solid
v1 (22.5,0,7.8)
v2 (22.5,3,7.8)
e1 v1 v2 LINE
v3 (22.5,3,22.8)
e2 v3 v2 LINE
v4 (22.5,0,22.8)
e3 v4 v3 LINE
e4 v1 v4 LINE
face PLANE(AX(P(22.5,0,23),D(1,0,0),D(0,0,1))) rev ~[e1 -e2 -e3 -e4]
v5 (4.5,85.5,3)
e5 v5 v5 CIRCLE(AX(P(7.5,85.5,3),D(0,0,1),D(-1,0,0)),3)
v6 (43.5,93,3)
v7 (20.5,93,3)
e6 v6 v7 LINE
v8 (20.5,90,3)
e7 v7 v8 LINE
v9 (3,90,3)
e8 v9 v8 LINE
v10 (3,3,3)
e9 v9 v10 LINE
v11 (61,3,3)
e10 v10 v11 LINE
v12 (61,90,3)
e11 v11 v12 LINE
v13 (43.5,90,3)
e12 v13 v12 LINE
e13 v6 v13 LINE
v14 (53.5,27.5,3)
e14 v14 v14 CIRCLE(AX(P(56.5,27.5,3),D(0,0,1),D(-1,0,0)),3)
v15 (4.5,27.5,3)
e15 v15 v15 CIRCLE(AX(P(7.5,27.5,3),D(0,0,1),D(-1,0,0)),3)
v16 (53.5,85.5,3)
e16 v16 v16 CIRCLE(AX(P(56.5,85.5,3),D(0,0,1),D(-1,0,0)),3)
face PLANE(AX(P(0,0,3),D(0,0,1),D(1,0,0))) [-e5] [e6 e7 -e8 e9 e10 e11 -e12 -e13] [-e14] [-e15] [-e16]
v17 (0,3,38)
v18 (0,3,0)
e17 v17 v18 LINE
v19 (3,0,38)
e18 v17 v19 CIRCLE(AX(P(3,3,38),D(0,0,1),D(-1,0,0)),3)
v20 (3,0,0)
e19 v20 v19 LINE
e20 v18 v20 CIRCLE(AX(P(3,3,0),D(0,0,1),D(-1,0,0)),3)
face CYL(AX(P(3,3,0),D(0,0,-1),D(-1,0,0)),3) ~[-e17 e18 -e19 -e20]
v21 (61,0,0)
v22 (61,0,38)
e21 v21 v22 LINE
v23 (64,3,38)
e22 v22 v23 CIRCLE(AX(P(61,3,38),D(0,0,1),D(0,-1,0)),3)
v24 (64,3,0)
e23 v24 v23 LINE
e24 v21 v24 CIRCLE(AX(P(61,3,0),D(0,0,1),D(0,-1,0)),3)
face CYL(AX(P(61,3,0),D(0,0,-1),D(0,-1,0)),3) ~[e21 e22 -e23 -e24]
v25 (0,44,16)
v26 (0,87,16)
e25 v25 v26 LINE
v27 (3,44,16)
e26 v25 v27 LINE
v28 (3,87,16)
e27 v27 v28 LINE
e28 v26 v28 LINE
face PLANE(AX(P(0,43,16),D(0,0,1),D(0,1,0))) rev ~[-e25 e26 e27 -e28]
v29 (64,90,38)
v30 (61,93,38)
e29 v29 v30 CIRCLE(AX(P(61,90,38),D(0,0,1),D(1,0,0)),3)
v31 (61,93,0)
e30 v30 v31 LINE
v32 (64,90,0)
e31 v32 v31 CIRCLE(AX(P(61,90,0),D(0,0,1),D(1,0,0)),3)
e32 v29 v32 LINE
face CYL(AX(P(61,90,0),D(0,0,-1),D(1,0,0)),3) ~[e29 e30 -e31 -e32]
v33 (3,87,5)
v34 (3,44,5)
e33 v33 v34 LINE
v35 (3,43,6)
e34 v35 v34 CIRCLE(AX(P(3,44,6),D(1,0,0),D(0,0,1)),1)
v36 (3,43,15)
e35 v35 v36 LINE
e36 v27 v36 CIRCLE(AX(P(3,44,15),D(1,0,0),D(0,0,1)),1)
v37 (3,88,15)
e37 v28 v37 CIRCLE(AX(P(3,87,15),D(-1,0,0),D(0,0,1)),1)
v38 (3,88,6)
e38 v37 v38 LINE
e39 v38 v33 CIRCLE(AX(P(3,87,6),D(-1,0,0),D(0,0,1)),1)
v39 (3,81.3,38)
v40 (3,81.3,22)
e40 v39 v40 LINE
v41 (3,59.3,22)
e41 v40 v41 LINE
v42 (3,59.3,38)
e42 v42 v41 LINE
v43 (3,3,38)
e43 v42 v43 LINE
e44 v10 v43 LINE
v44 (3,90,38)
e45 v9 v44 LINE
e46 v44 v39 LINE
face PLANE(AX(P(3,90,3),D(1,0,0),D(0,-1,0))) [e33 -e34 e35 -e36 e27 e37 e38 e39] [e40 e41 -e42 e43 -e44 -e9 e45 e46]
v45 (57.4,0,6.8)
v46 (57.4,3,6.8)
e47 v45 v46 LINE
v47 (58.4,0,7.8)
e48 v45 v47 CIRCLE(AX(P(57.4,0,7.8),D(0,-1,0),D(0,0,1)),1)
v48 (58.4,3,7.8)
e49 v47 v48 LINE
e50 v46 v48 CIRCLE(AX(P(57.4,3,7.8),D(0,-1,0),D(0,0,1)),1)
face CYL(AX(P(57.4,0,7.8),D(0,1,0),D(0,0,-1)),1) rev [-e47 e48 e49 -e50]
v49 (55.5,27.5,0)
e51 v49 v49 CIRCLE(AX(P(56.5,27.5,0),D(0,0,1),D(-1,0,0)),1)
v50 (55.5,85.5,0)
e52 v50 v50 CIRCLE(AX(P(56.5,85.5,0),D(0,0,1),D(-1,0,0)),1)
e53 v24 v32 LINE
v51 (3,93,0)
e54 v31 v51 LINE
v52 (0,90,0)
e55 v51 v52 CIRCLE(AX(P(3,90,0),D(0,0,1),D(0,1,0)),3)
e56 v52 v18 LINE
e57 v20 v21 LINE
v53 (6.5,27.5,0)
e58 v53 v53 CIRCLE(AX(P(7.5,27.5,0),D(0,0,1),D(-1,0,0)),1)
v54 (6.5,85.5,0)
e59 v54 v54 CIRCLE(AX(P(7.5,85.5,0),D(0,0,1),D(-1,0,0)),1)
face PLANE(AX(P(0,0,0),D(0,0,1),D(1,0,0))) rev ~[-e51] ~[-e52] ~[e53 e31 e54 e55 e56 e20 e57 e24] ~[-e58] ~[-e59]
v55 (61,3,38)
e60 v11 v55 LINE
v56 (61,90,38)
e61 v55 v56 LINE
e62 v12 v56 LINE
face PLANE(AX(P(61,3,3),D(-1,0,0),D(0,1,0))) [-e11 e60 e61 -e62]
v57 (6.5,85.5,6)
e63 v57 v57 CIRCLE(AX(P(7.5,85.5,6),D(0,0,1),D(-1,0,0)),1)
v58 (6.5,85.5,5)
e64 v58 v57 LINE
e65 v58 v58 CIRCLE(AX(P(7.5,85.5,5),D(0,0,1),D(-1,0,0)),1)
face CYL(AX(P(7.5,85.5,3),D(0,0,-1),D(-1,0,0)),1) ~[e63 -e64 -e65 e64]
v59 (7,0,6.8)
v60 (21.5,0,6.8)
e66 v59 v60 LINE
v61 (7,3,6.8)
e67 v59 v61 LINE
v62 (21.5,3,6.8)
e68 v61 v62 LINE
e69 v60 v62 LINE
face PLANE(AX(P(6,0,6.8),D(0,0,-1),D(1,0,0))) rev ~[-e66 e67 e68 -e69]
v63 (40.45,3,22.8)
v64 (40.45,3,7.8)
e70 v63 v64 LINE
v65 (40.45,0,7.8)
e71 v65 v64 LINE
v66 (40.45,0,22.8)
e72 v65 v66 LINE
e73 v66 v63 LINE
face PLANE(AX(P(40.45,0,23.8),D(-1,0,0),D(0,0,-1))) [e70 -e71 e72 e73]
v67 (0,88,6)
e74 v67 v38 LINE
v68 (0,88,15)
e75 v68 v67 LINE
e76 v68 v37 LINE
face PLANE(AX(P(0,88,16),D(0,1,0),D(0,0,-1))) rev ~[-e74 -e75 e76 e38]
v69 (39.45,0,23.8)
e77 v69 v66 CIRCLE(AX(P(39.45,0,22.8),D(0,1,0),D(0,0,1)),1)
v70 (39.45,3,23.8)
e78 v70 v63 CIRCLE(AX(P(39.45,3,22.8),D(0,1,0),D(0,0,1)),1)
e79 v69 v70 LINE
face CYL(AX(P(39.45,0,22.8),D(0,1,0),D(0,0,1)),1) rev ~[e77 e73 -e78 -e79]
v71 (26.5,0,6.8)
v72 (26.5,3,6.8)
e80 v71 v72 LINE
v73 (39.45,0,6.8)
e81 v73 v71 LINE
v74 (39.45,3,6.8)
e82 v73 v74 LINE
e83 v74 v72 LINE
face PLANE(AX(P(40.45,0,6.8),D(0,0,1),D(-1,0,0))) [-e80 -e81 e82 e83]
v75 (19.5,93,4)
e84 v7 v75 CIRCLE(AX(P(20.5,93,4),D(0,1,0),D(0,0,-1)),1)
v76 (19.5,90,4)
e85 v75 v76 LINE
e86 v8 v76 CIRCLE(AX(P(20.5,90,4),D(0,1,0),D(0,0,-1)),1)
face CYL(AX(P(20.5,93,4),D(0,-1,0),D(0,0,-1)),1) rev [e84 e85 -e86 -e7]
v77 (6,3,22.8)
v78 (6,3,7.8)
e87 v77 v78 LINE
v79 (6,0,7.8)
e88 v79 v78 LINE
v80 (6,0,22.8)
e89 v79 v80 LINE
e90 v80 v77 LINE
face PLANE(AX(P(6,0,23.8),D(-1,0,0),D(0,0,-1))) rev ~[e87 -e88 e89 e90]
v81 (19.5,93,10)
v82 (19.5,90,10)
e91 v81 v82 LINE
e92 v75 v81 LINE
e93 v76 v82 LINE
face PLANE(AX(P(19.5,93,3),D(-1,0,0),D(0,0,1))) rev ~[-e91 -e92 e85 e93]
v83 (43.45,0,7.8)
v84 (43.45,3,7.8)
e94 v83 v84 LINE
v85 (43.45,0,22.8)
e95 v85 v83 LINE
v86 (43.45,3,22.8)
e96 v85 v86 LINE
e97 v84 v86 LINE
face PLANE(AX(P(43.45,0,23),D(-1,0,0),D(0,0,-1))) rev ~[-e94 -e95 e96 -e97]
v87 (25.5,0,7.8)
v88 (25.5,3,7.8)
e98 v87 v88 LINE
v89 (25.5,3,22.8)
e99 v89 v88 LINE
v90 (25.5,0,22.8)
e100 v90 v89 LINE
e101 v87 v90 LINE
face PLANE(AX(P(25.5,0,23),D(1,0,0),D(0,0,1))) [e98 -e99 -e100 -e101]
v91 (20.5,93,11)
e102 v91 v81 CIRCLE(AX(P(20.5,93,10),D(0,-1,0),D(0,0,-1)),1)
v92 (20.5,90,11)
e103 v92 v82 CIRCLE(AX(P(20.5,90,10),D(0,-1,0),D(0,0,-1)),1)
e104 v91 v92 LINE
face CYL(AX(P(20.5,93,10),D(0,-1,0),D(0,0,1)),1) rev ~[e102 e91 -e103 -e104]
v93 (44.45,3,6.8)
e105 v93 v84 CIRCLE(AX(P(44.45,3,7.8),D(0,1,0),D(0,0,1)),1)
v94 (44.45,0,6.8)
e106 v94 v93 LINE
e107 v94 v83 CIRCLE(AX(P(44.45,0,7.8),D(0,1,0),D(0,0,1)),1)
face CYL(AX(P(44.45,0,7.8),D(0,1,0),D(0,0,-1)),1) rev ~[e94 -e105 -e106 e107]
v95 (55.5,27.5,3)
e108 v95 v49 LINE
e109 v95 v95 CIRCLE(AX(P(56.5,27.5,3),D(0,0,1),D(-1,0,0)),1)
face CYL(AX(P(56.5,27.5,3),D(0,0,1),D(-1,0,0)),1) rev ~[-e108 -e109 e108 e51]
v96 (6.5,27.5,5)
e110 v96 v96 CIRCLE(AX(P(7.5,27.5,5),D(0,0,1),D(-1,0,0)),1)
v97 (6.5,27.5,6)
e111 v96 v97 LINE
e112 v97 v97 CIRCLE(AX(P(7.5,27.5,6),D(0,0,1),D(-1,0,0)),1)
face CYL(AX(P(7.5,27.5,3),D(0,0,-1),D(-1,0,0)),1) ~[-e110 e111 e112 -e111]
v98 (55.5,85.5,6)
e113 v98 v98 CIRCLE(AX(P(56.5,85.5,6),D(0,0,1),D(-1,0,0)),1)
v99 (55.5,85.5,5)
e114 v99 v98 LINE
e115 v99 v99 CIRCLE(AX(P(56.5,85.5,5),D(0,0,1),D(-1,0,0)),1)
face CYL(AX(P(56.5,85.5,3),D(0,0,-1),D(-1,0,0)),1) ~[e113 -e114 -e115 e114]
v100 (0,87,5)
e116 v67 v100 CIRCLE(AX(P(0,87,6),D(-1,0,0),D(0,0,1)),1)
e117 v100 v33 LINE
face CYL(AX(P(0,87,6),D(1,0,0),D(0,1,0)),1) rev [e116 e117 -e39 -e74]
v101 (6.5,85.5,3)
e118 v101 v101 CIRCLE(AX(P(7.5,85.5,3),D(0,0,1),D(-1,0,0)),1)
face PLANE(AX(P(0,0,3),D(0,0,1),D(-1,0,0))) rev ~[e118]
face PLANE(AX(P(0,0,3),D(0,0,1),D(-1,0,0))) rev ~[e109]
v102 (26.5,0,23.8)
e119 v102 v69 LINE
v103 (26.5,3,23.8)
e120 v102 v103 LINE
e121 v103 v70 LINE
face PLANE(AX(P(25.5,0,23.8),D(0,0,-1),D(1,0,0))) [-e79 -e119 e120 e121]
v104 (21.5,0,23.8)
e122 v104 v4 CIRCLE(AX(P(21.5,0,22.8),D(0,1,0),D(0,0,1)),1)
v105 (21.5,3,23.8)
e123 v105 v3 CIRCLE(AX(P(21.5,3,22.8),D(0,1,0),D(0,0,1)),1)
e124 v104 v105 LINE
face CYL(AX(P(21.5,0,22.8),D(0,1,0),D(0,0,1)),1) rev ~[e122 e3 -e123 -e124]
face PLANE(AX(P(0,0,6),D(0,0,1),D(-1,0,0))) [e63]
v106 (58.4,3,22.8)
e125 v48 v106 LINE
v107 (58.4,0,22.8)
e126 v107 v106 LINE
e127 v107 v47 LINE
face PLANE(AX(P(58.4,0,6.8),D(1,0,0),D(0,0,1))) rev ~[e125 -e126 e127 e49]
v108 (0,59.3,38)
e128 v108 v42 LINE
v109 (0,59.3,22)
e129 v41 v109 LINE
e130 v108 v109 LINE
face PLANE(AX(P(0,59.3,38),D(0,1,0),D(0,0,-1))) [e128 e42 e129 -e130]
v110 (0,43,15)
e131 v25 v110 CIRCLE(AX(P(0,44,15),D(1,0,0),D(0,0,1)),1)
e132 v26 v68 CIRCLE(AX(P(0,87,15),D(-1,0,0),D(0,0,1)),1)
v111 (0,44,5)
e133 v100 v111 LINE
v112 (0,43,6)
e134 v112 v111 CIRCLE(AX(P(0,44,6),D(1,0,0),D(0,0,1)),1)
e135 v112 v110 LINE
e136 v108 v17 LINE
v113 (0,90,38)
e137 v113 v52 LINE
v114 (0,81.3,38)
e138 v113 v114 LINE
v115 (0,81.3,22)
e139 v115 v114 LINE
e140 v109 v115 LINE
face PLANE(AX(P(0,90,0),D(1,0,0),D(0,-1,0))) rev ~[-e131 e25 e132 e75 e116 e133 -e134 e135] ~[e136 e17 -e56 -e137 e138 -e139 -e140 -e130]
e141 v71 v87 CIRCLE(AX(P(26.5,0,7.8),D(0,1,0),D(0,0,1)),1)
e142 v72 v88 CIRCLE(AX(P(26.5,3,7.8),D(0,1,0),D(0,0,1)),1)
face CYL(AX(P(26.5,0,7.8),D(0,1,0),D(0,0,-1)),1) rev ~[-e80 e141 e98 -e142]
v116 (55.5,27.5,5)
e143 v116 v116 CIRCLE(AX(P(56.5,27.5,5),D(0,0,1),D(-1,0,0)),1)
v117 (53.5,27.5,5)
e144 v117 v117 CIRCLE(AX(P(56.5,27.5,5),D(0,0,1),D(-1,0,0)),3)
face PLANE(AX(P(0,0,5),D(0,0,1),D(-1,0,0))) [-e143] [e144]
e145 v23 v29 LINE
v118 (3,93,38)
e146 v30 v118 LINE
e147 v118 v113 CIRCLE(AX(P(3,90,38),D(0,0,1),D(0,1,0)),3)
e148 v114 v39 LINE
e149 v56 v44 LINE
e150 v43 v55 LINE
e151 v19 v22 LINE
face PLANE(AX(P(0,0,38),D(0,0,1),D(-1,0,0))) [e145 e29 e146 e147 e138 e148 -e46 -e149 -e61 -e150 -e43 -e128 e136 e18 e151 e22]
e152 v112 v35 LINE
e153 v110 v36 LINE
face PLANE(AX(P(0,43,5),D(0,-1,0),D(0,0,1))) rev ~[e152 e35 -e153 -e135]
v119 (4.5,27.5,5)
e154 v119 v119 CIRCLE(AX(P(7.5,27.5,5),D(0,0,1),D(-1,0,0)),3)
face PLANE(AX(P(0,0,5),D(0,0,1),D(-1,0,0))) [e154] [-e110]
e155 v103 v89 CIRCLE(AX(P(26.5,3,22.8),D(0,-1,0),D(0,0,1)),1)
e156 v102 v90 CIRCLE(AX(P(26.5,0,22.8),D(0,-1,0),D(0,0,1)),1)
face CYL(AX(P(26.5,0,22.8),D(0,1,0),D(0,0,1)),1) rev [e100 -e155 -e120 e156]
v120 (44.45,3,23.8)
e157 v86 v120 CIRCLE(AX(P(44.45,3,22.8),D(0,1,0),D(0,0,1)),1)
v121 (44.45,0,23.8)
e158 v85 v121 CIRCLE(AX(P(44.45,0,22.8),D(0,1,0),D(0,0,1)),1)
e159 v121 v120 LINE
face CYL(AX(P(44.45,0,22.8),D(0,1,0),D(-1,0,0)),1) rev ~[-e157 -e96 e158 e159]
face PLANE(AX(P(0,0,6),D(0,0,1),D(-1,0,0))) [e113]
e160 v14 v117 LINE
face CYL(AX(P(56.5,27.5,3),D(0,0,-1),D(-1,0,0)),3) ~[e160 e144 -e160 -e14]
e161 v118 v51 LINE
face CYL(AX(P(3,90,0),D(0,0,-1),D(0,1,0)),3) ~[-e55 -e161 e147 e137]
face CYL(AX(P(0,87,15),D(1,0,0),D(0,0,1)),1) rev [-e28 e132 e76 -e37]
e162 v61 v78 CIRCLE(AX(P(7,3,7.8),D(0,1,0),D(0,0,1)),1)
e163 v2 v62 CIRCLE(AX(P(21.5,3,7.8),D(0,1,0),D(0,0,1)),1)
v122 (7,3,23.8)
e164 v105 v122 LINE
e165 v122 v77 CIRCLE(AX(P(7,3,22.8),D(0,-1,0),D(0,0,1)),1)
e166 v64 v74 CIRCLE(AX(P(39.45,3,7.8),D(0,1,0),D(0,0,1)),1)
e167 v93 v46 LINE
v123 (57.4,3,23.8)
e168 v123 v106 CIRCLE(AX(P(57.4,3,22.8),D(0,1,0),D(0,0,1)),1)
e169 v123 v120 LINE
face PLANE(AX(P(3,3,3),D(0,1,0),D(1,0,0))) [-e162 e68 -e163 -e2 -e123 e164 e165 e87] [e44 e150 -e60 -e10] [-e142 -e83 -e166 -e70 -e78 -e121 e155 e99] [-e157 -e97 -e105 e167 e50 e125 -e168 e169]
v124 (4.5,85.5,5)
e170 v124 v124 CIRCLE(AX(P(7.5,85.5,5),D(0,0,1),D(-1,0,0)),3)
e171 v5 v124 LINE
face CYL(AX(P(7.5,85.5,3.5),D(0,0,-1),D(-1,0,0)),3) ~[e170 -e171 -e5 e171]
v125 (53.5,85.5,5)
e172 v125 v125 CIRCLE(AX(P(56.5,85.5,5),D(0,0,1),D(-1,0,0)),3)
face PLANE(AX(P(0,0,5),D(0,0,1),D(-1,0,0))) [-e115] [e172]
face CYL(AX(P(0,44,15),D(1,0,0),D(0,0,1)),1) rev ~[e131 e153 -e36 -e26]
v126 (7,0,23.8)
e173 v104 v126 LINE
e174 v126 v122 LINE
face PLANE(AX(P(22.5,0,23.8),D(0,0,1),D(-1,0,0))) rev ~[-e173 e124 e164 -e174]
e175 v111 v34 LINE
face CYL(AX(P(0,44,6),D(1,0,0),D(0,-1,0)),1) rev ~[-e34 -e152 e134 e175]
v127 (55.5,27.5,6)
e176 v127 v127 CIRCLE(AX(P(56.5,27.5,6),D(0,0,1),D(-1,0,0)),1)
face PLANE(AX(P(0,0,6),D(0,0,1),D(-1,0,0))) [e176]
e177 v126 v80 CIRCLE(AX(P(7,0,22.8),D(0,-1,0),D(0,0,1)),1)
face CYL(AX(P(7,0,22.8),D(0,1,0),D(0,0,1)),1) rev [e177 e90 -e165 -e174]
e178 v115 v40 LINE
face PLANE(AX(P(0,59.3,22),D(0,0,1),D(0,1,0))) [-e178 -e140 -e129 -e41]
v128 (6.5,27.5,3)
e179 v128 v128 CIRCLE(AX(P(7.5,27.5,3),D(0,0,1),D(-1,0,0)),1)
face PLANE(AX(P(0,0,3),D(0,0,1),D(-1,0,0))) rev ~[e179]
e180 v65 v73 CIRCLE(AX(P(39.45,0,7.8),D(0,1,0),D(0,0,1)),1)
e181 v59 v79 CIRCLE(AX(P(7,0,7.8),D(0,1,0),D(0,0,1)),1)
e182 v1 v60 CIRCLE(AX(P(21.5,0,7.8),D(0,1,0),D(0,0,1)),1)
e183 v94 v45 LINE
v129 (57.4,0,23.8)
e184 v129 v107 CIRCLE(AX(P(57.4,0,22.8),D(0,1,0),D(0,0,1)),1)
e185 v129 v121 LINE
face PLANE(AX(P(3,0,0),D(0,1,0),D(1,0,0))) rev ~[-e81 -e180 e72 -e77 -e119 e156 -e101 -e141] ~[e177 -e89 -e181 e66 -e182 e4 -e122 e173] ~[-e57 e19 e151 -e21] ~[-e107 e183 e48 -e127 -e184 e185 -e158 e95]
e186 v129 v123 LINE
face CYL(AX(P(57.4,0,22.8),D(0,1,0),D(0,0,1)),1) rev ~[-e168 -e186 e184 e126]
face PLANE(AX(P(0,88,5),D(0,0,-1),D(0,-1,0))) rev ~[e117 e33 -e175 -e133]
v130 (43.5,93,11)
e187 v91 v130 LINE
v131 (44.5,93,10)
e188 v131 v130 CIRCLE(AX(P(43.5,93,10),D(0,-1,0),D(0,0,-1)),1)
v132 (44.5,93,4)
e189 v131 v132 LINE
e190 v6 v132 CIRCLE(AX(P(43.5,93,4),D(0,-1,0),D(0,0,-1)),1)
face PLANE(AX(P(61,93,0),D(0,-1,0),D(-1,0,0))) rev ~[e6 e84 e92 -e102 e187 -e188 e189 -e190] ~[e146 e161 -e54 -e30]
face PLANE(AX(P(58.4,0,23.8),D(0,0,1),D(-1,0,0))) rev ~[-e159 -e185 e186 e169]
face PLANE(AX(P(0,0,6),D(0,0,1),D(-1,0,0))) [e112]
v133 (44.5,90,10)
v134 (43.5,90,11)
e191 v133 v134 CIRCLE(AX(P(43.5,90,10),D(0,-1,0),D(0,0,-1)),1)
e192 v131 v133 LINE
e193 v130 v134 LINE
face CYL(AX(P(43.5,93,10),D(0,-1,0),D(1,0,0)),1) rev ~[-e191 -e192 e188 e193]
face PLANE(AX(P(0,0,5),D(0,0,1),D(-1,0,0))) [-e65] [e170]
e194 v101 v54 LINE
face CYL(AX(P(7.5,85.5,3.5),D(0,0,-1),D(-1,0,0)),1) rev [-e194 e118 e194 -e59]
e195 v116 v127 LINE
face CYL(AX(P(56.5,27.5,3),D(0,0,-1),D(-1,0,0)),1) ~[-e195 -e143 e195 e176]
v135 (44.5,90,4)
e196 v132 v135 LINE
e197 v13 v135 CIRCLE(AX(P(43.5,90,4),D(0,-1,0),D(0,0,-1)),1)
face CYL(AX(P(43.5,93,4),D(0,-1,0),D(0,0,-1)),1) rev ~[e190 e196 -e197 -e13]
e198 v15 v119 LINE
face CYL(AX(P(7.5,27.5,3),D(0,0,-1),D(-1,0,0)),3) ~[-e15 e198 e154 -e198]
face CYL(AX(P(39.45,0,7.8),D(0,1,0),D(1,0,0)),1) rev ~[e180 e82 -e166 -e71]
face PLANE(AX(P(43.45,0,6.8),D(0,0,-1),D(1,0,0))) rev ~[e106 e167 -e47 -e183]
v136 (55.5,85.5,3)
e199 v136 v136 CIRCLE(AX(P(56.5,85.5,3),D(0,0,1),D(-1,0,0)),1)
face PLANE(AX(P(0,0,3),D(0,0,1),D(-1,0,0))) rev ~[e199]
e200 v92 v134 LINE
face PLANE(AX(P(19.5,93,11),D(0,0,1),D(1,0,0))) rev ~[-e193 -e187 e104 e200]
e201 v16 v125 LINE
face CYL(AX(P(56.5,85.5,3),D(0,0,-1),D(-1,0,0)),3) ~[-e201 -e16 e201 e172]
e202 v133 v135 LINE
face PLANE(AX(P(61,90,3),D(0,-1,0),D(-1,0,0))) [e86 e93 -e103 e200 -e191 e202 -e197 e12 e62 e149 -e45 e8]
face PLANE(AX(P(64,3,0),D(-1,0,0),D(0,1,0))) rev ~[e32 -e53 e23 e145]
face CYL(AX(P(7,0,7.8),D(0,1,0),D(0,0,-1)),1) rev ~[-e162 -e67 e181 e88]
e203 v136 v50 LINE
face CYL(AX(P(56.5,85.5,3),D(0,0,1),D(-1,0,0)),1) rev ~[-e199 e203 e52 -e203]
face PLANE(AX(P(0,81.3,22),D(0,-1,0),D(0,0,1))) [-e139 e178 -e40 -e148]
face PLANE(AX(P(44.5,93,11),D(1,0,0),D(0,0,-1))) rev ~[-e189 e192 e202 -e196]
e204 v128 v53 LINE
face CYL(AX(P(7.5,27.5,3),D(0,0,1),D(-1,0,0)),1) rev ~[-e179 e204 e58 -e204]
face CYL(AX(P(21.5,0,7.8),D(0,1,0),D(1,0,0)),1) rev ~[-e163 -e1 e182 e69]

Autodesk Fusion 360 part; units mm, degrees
sketch "Sketch1" plane through (0, 0, 0) normal (0, 0, 1) x (1, 0, 0)
  line L0 (3, 0) -> (61, 0)
  line L1 (64, 3) -> (64, 90)
  line L2 (61, 93) -> (3, 93)
  line L3 (0, 90) -> (0, 3)
  arc A0 (3, 93) -> (0, 90) centre (3, 90) ccw
  arc A1 (64, 90) -> (61, 93) centre (61, 90) ccw
  arc A2 (61, 0) -> (64, 3) centre (61, 3) ccw
  arc A3 (0, 3) -> (3, 0) centre (3, 3) ccw
  point P0 (64, 0)
  point P1 (0, 93)
  dimension "d1" = 64
  dimension "d2" = 93
  dimension "d3" = 3
  dimension "d4" = 3
extrude "Extrude1" add sketch "Sketch1" along normal blind 3
sketch "Sketch4" plane through (0, 0, 3) normal (0, 0, 1) x (-1, 0, 0)
  arc A0 (0, -3) -> (-3, 0) centre (-3, -3) ccw
  line L0 (-3, 0) -> (-61, 0)
  arc A1 (-61, 0) -> (-64, -3) centre (-61, -3) ccw
  line L1 (-64, -3) -> (-64, -90)
  arc A2 (-64, -90) -> (-61, -93) centre (-61, -90) ccw
  line L2 (-61, -93) -> (-3, -93)
  arc A3 (-3, -93) -> (0, -90) centre (-3, -90) ccw
  line L3 (0, -90) -> (0, -3)
  line L4 (-3, -3) -> (-61, -3)
  line L5 (-61, -3) -> (-61, -90)
  line L6 (-61, -90) -> (-3, -90)
  line L7 (-3, -90) -> (-3, -3)
  dimension "d11" = 58
  dimension "d12" = 87
  dimension "d13" = 3
  dimension "d14" = 3
extrude "Extrude2" add sketch "Sketch4" along normal blind 35
sketch "Sketch5" plane through (0, 0, 0) normal (0, -1, 0) x (1, 0, 0)
  line L0 (3, 0) -> (61, 0)
  line L1 (61, 0) -> (61, 23)
  line L2 (3, 23) -> (61, 23)
  line L3 (6, 6.8) -> (22.5, 6.8)
  line L4 (22.5, 6.8) -> (22.5, 23.8)
  line L5 (22.5, 23.8) -> (6, 23.8)
  line L6 (6, 23.8) -> (6, 6.8)
  line L7 (3, 0) -> (3, 23)
  line L8 (25.5, 23.8) -> (40.45, 23.8)
  line L9 (40.45, 23.8) -> (40.45, 6.8)
  line L10 (40.45, 6.8) -> (25.5, 6.8)
  line L11 (25.5, 6.8) -> (25.5, 23.8)
  line L12 (43.45, 6.8) -> (58.4, 6.8)
  line L13 (58.4, 6.8) -> (58.4, 23.8)
  line L14 (58.4, 23.8) -> (43.45, 23.8)
  line L15 (43.45, 23.8) -> (43.45, 6.8)
  line L16 (3, 0) -> (61, 0)
  line L17 (61, 0) -> (61, 38)
  line L18 (61, 38) -> (3, 38)
  line L19 (3, 38) -> (3, 0)
  dimension "d21" = 16.5
  dimension "d22" = 17
  dimension "d23" = 3
  dimension "d26" = 14.95
  dimension "d27" = 17
  dimension "d29" = 14.95
  dimension "d30" = 17
  dimension "d31" = 3
  dimension "d34" = 3
  dimension "d45" = 6.8
extrude "Extrude4" cut sketch "Sketch5" against normal blind 3 contours L2 L4 L5 L6 | L2 L3 L4 L6 | L2 L12 L13 L15 | L2 L13 L14 L15 | L2 L8 L9 L11 | L2 L9 L10 L11
sketch "Sketch6" plane through (0, 0, 3) normal (0, 0, 1) x (-1, 0, 0)
  line L0 (-3, -3) -> (-61, -3)
  line L1 (-61, -3) -> (-61, -90)
  line L2 (-61, -90) -> (-3, -90)
  line L3 (-3, -90) -> (-3, -3)
  circle A0 centre (-7.5, -85.5) radius 1
  circle A1 centre (-7.5, -85.5) radius 3
  circle A2 centre (-56.5, -85.5) radius 1
  circle A3 centre (-56.5, -85.5) radius 3
  circle A4 centre (-56.5, -27.5) radius 1
  circle A5 centre (-56.5, -27.5) radius 3
  circle A6 centre (-7.5, -27.5) radius 1
  circle A7 centre (-7.5, -27.5) radius 3
  dimension "d35" = 2
  dimension "d36" = 4.5
  dimension "d37" = 4.5
  dimension "d38" = 6
  dimension "d59" = 2
  dimension "d60" = 4.5
  dimension "d61" = 4.5
  dimension "d62" = 6
  dimension "d63" = 2
  dimension "d64" = 4.5
  dimension "d65" = 58
  dimension "d66" = 6
  dimension "d67" = 2
  dimension "d68" = 4.5
  dimension "d69" = 58
  dimension "d70" = 6
extrude "Extrude6" cut sketch "Sketch6" against normal blind 3 contours A0 | A2 | A4 | A6
extrude "Extrude7" add sketch "Sketch6" along normal blind 0.5 contours A1
sketch "Sketch7" plane through (0, 0, 0) normal (-1, 0, 0) x (0, -1, 0)
  line L0 (-90, 0) -> (-3, 0)
  line L1 (-3, 0) -> (-3, 38)
  line L2 (-3, 38) -> (-90, 38)
  line L3 (-90, 38) -> (-90, 0)
  line L4 (-88, 5) -> (-43, 5)
  line L5 (-43, 5) -> (-43, 16)
  line L6 (-43, 16) -> (-88, 16)
  line L7 (-88, 16) -> (-88, 5)
  dimension "d46" = 45
  dimension "d47" = 11
  dimension "d50" = 5
extrude "Extrude8" cut sketch "Sketch7" against normal blind 3 contours L4 L5 L6 L7
sketch "Sketch8" plane through (0, 93, 0) normal (0, 1, 0) x (-1, 0, 0)
  line L0 (-61, 0) -> (-3, 0)
  line L1 (-3, 0) -> (-3, 38)
  line L2 (-3, 38) -> (-61, 38)
  line L3 (-61, 38) -> (-61, 0)
  line L4 (-44.5, 3) -> (-19.5, 3)
  line L5 (-19.5, 3) -> (-19.5, 11)
  line L6 (-19.5, 11) -> (-44.5, 11)
  line L7 (-44.5, 11) -> (-44.5, 3)
  line L8 (-3, 0) -> (-3, 23)
  line L9 (-3, 0) -> (-61, 0)
  dimension "d51" = 25
  dimension "d52" = 8
  dimension "d53" = 16.5
  dimension "d54" = 3
extrude "Extrude9" cut sketch "Sketch8" against normal blind 3 contours L4 L5 L6 L7
extrude "Extrude10" add 1 faces at (9.6751, 86.3269, 3.5) along direction (0, 0, 1) blind 1.5
extrude "Extrude11" add sketch "Sketch6" along normal blind 2 contours A3 | A5 | A7
extrude "Extrude13" add sketch "Sketch6" along normal blind 3 contours A4
extrude "Extrude14" add sketch "Sketch6" along normal blind 3 contours A0 | A2 | A6
sketch "Sketch11" plane through (0, 0, 0) normal (-1, 0, 0) x (0, -1, 0)
  line L0 (-43, 5) -> (-88, 5)
  line L1 (-88, 5) -> (-88, 16)
  line L2 (-88, 16) -> (-43, 16)
  line L3 (-43, 16) -> (-43, 5)
  line L4 (-90, 0) -> (-3, 0)
  line L5 (-3, 0) -> (-3, 38)
  line L6 (-3, 38) -> (-90, 38)
  line L7 (-90, 38) -> (-90, 0)
  line L8 (-81.3, 38) -> (-59.3, 38)
  line L9 (-59.3, 38) -> (-59.3, 22)
  line L10 (-59.3, 22) -> (-81.3, 22)
  line L11 (-81.3, 22) -> (-81.3, 38)
  dimension "d85" = 22
  dimension "d86" = 16
  dimension "d87" = 8.7
extrude "Extrude15" cut sketch "Sketch11" against normal blind 3 contours L6 L8 L9 L10 L11
fillet "Fillet1" radius 1 1 edges at (1.5, 81.3, 22)
fillet "Fillet2" radius 1 21 edges at (1.5, 59.3, 22) (44.5, 91.5, 3) (44.5, 91.5, 11) (19.5, 91.5, 3) (19.5, 91.5, 11) (1.5, 43, 5) (6, 1.5, 6.8) (25.5, 1.5, 6.8) (43.45, 1.5, 6.8) (6, 1.5, 23.8) (25.5, 1.5, 23.8) (43.45, 1.5, 23.8) (40.45, 1.5, 23.8) (22.5, 1.5, 23.8) (58.4, 1.5, 23.8) (1.5, 88, 16) (1.5, 88, 5) (22.5, 1.5, 6.8) (40.45, 1.5, 6.8) (58.4, 1.5, 6.8) (1.5, 43, 16)
delete_face "DeleteFace1" 1 faces at (1, 80.5358, 22.0282)
delete_face "DeleteFace2" 1 faces at (1, 59.8, 22.134)
